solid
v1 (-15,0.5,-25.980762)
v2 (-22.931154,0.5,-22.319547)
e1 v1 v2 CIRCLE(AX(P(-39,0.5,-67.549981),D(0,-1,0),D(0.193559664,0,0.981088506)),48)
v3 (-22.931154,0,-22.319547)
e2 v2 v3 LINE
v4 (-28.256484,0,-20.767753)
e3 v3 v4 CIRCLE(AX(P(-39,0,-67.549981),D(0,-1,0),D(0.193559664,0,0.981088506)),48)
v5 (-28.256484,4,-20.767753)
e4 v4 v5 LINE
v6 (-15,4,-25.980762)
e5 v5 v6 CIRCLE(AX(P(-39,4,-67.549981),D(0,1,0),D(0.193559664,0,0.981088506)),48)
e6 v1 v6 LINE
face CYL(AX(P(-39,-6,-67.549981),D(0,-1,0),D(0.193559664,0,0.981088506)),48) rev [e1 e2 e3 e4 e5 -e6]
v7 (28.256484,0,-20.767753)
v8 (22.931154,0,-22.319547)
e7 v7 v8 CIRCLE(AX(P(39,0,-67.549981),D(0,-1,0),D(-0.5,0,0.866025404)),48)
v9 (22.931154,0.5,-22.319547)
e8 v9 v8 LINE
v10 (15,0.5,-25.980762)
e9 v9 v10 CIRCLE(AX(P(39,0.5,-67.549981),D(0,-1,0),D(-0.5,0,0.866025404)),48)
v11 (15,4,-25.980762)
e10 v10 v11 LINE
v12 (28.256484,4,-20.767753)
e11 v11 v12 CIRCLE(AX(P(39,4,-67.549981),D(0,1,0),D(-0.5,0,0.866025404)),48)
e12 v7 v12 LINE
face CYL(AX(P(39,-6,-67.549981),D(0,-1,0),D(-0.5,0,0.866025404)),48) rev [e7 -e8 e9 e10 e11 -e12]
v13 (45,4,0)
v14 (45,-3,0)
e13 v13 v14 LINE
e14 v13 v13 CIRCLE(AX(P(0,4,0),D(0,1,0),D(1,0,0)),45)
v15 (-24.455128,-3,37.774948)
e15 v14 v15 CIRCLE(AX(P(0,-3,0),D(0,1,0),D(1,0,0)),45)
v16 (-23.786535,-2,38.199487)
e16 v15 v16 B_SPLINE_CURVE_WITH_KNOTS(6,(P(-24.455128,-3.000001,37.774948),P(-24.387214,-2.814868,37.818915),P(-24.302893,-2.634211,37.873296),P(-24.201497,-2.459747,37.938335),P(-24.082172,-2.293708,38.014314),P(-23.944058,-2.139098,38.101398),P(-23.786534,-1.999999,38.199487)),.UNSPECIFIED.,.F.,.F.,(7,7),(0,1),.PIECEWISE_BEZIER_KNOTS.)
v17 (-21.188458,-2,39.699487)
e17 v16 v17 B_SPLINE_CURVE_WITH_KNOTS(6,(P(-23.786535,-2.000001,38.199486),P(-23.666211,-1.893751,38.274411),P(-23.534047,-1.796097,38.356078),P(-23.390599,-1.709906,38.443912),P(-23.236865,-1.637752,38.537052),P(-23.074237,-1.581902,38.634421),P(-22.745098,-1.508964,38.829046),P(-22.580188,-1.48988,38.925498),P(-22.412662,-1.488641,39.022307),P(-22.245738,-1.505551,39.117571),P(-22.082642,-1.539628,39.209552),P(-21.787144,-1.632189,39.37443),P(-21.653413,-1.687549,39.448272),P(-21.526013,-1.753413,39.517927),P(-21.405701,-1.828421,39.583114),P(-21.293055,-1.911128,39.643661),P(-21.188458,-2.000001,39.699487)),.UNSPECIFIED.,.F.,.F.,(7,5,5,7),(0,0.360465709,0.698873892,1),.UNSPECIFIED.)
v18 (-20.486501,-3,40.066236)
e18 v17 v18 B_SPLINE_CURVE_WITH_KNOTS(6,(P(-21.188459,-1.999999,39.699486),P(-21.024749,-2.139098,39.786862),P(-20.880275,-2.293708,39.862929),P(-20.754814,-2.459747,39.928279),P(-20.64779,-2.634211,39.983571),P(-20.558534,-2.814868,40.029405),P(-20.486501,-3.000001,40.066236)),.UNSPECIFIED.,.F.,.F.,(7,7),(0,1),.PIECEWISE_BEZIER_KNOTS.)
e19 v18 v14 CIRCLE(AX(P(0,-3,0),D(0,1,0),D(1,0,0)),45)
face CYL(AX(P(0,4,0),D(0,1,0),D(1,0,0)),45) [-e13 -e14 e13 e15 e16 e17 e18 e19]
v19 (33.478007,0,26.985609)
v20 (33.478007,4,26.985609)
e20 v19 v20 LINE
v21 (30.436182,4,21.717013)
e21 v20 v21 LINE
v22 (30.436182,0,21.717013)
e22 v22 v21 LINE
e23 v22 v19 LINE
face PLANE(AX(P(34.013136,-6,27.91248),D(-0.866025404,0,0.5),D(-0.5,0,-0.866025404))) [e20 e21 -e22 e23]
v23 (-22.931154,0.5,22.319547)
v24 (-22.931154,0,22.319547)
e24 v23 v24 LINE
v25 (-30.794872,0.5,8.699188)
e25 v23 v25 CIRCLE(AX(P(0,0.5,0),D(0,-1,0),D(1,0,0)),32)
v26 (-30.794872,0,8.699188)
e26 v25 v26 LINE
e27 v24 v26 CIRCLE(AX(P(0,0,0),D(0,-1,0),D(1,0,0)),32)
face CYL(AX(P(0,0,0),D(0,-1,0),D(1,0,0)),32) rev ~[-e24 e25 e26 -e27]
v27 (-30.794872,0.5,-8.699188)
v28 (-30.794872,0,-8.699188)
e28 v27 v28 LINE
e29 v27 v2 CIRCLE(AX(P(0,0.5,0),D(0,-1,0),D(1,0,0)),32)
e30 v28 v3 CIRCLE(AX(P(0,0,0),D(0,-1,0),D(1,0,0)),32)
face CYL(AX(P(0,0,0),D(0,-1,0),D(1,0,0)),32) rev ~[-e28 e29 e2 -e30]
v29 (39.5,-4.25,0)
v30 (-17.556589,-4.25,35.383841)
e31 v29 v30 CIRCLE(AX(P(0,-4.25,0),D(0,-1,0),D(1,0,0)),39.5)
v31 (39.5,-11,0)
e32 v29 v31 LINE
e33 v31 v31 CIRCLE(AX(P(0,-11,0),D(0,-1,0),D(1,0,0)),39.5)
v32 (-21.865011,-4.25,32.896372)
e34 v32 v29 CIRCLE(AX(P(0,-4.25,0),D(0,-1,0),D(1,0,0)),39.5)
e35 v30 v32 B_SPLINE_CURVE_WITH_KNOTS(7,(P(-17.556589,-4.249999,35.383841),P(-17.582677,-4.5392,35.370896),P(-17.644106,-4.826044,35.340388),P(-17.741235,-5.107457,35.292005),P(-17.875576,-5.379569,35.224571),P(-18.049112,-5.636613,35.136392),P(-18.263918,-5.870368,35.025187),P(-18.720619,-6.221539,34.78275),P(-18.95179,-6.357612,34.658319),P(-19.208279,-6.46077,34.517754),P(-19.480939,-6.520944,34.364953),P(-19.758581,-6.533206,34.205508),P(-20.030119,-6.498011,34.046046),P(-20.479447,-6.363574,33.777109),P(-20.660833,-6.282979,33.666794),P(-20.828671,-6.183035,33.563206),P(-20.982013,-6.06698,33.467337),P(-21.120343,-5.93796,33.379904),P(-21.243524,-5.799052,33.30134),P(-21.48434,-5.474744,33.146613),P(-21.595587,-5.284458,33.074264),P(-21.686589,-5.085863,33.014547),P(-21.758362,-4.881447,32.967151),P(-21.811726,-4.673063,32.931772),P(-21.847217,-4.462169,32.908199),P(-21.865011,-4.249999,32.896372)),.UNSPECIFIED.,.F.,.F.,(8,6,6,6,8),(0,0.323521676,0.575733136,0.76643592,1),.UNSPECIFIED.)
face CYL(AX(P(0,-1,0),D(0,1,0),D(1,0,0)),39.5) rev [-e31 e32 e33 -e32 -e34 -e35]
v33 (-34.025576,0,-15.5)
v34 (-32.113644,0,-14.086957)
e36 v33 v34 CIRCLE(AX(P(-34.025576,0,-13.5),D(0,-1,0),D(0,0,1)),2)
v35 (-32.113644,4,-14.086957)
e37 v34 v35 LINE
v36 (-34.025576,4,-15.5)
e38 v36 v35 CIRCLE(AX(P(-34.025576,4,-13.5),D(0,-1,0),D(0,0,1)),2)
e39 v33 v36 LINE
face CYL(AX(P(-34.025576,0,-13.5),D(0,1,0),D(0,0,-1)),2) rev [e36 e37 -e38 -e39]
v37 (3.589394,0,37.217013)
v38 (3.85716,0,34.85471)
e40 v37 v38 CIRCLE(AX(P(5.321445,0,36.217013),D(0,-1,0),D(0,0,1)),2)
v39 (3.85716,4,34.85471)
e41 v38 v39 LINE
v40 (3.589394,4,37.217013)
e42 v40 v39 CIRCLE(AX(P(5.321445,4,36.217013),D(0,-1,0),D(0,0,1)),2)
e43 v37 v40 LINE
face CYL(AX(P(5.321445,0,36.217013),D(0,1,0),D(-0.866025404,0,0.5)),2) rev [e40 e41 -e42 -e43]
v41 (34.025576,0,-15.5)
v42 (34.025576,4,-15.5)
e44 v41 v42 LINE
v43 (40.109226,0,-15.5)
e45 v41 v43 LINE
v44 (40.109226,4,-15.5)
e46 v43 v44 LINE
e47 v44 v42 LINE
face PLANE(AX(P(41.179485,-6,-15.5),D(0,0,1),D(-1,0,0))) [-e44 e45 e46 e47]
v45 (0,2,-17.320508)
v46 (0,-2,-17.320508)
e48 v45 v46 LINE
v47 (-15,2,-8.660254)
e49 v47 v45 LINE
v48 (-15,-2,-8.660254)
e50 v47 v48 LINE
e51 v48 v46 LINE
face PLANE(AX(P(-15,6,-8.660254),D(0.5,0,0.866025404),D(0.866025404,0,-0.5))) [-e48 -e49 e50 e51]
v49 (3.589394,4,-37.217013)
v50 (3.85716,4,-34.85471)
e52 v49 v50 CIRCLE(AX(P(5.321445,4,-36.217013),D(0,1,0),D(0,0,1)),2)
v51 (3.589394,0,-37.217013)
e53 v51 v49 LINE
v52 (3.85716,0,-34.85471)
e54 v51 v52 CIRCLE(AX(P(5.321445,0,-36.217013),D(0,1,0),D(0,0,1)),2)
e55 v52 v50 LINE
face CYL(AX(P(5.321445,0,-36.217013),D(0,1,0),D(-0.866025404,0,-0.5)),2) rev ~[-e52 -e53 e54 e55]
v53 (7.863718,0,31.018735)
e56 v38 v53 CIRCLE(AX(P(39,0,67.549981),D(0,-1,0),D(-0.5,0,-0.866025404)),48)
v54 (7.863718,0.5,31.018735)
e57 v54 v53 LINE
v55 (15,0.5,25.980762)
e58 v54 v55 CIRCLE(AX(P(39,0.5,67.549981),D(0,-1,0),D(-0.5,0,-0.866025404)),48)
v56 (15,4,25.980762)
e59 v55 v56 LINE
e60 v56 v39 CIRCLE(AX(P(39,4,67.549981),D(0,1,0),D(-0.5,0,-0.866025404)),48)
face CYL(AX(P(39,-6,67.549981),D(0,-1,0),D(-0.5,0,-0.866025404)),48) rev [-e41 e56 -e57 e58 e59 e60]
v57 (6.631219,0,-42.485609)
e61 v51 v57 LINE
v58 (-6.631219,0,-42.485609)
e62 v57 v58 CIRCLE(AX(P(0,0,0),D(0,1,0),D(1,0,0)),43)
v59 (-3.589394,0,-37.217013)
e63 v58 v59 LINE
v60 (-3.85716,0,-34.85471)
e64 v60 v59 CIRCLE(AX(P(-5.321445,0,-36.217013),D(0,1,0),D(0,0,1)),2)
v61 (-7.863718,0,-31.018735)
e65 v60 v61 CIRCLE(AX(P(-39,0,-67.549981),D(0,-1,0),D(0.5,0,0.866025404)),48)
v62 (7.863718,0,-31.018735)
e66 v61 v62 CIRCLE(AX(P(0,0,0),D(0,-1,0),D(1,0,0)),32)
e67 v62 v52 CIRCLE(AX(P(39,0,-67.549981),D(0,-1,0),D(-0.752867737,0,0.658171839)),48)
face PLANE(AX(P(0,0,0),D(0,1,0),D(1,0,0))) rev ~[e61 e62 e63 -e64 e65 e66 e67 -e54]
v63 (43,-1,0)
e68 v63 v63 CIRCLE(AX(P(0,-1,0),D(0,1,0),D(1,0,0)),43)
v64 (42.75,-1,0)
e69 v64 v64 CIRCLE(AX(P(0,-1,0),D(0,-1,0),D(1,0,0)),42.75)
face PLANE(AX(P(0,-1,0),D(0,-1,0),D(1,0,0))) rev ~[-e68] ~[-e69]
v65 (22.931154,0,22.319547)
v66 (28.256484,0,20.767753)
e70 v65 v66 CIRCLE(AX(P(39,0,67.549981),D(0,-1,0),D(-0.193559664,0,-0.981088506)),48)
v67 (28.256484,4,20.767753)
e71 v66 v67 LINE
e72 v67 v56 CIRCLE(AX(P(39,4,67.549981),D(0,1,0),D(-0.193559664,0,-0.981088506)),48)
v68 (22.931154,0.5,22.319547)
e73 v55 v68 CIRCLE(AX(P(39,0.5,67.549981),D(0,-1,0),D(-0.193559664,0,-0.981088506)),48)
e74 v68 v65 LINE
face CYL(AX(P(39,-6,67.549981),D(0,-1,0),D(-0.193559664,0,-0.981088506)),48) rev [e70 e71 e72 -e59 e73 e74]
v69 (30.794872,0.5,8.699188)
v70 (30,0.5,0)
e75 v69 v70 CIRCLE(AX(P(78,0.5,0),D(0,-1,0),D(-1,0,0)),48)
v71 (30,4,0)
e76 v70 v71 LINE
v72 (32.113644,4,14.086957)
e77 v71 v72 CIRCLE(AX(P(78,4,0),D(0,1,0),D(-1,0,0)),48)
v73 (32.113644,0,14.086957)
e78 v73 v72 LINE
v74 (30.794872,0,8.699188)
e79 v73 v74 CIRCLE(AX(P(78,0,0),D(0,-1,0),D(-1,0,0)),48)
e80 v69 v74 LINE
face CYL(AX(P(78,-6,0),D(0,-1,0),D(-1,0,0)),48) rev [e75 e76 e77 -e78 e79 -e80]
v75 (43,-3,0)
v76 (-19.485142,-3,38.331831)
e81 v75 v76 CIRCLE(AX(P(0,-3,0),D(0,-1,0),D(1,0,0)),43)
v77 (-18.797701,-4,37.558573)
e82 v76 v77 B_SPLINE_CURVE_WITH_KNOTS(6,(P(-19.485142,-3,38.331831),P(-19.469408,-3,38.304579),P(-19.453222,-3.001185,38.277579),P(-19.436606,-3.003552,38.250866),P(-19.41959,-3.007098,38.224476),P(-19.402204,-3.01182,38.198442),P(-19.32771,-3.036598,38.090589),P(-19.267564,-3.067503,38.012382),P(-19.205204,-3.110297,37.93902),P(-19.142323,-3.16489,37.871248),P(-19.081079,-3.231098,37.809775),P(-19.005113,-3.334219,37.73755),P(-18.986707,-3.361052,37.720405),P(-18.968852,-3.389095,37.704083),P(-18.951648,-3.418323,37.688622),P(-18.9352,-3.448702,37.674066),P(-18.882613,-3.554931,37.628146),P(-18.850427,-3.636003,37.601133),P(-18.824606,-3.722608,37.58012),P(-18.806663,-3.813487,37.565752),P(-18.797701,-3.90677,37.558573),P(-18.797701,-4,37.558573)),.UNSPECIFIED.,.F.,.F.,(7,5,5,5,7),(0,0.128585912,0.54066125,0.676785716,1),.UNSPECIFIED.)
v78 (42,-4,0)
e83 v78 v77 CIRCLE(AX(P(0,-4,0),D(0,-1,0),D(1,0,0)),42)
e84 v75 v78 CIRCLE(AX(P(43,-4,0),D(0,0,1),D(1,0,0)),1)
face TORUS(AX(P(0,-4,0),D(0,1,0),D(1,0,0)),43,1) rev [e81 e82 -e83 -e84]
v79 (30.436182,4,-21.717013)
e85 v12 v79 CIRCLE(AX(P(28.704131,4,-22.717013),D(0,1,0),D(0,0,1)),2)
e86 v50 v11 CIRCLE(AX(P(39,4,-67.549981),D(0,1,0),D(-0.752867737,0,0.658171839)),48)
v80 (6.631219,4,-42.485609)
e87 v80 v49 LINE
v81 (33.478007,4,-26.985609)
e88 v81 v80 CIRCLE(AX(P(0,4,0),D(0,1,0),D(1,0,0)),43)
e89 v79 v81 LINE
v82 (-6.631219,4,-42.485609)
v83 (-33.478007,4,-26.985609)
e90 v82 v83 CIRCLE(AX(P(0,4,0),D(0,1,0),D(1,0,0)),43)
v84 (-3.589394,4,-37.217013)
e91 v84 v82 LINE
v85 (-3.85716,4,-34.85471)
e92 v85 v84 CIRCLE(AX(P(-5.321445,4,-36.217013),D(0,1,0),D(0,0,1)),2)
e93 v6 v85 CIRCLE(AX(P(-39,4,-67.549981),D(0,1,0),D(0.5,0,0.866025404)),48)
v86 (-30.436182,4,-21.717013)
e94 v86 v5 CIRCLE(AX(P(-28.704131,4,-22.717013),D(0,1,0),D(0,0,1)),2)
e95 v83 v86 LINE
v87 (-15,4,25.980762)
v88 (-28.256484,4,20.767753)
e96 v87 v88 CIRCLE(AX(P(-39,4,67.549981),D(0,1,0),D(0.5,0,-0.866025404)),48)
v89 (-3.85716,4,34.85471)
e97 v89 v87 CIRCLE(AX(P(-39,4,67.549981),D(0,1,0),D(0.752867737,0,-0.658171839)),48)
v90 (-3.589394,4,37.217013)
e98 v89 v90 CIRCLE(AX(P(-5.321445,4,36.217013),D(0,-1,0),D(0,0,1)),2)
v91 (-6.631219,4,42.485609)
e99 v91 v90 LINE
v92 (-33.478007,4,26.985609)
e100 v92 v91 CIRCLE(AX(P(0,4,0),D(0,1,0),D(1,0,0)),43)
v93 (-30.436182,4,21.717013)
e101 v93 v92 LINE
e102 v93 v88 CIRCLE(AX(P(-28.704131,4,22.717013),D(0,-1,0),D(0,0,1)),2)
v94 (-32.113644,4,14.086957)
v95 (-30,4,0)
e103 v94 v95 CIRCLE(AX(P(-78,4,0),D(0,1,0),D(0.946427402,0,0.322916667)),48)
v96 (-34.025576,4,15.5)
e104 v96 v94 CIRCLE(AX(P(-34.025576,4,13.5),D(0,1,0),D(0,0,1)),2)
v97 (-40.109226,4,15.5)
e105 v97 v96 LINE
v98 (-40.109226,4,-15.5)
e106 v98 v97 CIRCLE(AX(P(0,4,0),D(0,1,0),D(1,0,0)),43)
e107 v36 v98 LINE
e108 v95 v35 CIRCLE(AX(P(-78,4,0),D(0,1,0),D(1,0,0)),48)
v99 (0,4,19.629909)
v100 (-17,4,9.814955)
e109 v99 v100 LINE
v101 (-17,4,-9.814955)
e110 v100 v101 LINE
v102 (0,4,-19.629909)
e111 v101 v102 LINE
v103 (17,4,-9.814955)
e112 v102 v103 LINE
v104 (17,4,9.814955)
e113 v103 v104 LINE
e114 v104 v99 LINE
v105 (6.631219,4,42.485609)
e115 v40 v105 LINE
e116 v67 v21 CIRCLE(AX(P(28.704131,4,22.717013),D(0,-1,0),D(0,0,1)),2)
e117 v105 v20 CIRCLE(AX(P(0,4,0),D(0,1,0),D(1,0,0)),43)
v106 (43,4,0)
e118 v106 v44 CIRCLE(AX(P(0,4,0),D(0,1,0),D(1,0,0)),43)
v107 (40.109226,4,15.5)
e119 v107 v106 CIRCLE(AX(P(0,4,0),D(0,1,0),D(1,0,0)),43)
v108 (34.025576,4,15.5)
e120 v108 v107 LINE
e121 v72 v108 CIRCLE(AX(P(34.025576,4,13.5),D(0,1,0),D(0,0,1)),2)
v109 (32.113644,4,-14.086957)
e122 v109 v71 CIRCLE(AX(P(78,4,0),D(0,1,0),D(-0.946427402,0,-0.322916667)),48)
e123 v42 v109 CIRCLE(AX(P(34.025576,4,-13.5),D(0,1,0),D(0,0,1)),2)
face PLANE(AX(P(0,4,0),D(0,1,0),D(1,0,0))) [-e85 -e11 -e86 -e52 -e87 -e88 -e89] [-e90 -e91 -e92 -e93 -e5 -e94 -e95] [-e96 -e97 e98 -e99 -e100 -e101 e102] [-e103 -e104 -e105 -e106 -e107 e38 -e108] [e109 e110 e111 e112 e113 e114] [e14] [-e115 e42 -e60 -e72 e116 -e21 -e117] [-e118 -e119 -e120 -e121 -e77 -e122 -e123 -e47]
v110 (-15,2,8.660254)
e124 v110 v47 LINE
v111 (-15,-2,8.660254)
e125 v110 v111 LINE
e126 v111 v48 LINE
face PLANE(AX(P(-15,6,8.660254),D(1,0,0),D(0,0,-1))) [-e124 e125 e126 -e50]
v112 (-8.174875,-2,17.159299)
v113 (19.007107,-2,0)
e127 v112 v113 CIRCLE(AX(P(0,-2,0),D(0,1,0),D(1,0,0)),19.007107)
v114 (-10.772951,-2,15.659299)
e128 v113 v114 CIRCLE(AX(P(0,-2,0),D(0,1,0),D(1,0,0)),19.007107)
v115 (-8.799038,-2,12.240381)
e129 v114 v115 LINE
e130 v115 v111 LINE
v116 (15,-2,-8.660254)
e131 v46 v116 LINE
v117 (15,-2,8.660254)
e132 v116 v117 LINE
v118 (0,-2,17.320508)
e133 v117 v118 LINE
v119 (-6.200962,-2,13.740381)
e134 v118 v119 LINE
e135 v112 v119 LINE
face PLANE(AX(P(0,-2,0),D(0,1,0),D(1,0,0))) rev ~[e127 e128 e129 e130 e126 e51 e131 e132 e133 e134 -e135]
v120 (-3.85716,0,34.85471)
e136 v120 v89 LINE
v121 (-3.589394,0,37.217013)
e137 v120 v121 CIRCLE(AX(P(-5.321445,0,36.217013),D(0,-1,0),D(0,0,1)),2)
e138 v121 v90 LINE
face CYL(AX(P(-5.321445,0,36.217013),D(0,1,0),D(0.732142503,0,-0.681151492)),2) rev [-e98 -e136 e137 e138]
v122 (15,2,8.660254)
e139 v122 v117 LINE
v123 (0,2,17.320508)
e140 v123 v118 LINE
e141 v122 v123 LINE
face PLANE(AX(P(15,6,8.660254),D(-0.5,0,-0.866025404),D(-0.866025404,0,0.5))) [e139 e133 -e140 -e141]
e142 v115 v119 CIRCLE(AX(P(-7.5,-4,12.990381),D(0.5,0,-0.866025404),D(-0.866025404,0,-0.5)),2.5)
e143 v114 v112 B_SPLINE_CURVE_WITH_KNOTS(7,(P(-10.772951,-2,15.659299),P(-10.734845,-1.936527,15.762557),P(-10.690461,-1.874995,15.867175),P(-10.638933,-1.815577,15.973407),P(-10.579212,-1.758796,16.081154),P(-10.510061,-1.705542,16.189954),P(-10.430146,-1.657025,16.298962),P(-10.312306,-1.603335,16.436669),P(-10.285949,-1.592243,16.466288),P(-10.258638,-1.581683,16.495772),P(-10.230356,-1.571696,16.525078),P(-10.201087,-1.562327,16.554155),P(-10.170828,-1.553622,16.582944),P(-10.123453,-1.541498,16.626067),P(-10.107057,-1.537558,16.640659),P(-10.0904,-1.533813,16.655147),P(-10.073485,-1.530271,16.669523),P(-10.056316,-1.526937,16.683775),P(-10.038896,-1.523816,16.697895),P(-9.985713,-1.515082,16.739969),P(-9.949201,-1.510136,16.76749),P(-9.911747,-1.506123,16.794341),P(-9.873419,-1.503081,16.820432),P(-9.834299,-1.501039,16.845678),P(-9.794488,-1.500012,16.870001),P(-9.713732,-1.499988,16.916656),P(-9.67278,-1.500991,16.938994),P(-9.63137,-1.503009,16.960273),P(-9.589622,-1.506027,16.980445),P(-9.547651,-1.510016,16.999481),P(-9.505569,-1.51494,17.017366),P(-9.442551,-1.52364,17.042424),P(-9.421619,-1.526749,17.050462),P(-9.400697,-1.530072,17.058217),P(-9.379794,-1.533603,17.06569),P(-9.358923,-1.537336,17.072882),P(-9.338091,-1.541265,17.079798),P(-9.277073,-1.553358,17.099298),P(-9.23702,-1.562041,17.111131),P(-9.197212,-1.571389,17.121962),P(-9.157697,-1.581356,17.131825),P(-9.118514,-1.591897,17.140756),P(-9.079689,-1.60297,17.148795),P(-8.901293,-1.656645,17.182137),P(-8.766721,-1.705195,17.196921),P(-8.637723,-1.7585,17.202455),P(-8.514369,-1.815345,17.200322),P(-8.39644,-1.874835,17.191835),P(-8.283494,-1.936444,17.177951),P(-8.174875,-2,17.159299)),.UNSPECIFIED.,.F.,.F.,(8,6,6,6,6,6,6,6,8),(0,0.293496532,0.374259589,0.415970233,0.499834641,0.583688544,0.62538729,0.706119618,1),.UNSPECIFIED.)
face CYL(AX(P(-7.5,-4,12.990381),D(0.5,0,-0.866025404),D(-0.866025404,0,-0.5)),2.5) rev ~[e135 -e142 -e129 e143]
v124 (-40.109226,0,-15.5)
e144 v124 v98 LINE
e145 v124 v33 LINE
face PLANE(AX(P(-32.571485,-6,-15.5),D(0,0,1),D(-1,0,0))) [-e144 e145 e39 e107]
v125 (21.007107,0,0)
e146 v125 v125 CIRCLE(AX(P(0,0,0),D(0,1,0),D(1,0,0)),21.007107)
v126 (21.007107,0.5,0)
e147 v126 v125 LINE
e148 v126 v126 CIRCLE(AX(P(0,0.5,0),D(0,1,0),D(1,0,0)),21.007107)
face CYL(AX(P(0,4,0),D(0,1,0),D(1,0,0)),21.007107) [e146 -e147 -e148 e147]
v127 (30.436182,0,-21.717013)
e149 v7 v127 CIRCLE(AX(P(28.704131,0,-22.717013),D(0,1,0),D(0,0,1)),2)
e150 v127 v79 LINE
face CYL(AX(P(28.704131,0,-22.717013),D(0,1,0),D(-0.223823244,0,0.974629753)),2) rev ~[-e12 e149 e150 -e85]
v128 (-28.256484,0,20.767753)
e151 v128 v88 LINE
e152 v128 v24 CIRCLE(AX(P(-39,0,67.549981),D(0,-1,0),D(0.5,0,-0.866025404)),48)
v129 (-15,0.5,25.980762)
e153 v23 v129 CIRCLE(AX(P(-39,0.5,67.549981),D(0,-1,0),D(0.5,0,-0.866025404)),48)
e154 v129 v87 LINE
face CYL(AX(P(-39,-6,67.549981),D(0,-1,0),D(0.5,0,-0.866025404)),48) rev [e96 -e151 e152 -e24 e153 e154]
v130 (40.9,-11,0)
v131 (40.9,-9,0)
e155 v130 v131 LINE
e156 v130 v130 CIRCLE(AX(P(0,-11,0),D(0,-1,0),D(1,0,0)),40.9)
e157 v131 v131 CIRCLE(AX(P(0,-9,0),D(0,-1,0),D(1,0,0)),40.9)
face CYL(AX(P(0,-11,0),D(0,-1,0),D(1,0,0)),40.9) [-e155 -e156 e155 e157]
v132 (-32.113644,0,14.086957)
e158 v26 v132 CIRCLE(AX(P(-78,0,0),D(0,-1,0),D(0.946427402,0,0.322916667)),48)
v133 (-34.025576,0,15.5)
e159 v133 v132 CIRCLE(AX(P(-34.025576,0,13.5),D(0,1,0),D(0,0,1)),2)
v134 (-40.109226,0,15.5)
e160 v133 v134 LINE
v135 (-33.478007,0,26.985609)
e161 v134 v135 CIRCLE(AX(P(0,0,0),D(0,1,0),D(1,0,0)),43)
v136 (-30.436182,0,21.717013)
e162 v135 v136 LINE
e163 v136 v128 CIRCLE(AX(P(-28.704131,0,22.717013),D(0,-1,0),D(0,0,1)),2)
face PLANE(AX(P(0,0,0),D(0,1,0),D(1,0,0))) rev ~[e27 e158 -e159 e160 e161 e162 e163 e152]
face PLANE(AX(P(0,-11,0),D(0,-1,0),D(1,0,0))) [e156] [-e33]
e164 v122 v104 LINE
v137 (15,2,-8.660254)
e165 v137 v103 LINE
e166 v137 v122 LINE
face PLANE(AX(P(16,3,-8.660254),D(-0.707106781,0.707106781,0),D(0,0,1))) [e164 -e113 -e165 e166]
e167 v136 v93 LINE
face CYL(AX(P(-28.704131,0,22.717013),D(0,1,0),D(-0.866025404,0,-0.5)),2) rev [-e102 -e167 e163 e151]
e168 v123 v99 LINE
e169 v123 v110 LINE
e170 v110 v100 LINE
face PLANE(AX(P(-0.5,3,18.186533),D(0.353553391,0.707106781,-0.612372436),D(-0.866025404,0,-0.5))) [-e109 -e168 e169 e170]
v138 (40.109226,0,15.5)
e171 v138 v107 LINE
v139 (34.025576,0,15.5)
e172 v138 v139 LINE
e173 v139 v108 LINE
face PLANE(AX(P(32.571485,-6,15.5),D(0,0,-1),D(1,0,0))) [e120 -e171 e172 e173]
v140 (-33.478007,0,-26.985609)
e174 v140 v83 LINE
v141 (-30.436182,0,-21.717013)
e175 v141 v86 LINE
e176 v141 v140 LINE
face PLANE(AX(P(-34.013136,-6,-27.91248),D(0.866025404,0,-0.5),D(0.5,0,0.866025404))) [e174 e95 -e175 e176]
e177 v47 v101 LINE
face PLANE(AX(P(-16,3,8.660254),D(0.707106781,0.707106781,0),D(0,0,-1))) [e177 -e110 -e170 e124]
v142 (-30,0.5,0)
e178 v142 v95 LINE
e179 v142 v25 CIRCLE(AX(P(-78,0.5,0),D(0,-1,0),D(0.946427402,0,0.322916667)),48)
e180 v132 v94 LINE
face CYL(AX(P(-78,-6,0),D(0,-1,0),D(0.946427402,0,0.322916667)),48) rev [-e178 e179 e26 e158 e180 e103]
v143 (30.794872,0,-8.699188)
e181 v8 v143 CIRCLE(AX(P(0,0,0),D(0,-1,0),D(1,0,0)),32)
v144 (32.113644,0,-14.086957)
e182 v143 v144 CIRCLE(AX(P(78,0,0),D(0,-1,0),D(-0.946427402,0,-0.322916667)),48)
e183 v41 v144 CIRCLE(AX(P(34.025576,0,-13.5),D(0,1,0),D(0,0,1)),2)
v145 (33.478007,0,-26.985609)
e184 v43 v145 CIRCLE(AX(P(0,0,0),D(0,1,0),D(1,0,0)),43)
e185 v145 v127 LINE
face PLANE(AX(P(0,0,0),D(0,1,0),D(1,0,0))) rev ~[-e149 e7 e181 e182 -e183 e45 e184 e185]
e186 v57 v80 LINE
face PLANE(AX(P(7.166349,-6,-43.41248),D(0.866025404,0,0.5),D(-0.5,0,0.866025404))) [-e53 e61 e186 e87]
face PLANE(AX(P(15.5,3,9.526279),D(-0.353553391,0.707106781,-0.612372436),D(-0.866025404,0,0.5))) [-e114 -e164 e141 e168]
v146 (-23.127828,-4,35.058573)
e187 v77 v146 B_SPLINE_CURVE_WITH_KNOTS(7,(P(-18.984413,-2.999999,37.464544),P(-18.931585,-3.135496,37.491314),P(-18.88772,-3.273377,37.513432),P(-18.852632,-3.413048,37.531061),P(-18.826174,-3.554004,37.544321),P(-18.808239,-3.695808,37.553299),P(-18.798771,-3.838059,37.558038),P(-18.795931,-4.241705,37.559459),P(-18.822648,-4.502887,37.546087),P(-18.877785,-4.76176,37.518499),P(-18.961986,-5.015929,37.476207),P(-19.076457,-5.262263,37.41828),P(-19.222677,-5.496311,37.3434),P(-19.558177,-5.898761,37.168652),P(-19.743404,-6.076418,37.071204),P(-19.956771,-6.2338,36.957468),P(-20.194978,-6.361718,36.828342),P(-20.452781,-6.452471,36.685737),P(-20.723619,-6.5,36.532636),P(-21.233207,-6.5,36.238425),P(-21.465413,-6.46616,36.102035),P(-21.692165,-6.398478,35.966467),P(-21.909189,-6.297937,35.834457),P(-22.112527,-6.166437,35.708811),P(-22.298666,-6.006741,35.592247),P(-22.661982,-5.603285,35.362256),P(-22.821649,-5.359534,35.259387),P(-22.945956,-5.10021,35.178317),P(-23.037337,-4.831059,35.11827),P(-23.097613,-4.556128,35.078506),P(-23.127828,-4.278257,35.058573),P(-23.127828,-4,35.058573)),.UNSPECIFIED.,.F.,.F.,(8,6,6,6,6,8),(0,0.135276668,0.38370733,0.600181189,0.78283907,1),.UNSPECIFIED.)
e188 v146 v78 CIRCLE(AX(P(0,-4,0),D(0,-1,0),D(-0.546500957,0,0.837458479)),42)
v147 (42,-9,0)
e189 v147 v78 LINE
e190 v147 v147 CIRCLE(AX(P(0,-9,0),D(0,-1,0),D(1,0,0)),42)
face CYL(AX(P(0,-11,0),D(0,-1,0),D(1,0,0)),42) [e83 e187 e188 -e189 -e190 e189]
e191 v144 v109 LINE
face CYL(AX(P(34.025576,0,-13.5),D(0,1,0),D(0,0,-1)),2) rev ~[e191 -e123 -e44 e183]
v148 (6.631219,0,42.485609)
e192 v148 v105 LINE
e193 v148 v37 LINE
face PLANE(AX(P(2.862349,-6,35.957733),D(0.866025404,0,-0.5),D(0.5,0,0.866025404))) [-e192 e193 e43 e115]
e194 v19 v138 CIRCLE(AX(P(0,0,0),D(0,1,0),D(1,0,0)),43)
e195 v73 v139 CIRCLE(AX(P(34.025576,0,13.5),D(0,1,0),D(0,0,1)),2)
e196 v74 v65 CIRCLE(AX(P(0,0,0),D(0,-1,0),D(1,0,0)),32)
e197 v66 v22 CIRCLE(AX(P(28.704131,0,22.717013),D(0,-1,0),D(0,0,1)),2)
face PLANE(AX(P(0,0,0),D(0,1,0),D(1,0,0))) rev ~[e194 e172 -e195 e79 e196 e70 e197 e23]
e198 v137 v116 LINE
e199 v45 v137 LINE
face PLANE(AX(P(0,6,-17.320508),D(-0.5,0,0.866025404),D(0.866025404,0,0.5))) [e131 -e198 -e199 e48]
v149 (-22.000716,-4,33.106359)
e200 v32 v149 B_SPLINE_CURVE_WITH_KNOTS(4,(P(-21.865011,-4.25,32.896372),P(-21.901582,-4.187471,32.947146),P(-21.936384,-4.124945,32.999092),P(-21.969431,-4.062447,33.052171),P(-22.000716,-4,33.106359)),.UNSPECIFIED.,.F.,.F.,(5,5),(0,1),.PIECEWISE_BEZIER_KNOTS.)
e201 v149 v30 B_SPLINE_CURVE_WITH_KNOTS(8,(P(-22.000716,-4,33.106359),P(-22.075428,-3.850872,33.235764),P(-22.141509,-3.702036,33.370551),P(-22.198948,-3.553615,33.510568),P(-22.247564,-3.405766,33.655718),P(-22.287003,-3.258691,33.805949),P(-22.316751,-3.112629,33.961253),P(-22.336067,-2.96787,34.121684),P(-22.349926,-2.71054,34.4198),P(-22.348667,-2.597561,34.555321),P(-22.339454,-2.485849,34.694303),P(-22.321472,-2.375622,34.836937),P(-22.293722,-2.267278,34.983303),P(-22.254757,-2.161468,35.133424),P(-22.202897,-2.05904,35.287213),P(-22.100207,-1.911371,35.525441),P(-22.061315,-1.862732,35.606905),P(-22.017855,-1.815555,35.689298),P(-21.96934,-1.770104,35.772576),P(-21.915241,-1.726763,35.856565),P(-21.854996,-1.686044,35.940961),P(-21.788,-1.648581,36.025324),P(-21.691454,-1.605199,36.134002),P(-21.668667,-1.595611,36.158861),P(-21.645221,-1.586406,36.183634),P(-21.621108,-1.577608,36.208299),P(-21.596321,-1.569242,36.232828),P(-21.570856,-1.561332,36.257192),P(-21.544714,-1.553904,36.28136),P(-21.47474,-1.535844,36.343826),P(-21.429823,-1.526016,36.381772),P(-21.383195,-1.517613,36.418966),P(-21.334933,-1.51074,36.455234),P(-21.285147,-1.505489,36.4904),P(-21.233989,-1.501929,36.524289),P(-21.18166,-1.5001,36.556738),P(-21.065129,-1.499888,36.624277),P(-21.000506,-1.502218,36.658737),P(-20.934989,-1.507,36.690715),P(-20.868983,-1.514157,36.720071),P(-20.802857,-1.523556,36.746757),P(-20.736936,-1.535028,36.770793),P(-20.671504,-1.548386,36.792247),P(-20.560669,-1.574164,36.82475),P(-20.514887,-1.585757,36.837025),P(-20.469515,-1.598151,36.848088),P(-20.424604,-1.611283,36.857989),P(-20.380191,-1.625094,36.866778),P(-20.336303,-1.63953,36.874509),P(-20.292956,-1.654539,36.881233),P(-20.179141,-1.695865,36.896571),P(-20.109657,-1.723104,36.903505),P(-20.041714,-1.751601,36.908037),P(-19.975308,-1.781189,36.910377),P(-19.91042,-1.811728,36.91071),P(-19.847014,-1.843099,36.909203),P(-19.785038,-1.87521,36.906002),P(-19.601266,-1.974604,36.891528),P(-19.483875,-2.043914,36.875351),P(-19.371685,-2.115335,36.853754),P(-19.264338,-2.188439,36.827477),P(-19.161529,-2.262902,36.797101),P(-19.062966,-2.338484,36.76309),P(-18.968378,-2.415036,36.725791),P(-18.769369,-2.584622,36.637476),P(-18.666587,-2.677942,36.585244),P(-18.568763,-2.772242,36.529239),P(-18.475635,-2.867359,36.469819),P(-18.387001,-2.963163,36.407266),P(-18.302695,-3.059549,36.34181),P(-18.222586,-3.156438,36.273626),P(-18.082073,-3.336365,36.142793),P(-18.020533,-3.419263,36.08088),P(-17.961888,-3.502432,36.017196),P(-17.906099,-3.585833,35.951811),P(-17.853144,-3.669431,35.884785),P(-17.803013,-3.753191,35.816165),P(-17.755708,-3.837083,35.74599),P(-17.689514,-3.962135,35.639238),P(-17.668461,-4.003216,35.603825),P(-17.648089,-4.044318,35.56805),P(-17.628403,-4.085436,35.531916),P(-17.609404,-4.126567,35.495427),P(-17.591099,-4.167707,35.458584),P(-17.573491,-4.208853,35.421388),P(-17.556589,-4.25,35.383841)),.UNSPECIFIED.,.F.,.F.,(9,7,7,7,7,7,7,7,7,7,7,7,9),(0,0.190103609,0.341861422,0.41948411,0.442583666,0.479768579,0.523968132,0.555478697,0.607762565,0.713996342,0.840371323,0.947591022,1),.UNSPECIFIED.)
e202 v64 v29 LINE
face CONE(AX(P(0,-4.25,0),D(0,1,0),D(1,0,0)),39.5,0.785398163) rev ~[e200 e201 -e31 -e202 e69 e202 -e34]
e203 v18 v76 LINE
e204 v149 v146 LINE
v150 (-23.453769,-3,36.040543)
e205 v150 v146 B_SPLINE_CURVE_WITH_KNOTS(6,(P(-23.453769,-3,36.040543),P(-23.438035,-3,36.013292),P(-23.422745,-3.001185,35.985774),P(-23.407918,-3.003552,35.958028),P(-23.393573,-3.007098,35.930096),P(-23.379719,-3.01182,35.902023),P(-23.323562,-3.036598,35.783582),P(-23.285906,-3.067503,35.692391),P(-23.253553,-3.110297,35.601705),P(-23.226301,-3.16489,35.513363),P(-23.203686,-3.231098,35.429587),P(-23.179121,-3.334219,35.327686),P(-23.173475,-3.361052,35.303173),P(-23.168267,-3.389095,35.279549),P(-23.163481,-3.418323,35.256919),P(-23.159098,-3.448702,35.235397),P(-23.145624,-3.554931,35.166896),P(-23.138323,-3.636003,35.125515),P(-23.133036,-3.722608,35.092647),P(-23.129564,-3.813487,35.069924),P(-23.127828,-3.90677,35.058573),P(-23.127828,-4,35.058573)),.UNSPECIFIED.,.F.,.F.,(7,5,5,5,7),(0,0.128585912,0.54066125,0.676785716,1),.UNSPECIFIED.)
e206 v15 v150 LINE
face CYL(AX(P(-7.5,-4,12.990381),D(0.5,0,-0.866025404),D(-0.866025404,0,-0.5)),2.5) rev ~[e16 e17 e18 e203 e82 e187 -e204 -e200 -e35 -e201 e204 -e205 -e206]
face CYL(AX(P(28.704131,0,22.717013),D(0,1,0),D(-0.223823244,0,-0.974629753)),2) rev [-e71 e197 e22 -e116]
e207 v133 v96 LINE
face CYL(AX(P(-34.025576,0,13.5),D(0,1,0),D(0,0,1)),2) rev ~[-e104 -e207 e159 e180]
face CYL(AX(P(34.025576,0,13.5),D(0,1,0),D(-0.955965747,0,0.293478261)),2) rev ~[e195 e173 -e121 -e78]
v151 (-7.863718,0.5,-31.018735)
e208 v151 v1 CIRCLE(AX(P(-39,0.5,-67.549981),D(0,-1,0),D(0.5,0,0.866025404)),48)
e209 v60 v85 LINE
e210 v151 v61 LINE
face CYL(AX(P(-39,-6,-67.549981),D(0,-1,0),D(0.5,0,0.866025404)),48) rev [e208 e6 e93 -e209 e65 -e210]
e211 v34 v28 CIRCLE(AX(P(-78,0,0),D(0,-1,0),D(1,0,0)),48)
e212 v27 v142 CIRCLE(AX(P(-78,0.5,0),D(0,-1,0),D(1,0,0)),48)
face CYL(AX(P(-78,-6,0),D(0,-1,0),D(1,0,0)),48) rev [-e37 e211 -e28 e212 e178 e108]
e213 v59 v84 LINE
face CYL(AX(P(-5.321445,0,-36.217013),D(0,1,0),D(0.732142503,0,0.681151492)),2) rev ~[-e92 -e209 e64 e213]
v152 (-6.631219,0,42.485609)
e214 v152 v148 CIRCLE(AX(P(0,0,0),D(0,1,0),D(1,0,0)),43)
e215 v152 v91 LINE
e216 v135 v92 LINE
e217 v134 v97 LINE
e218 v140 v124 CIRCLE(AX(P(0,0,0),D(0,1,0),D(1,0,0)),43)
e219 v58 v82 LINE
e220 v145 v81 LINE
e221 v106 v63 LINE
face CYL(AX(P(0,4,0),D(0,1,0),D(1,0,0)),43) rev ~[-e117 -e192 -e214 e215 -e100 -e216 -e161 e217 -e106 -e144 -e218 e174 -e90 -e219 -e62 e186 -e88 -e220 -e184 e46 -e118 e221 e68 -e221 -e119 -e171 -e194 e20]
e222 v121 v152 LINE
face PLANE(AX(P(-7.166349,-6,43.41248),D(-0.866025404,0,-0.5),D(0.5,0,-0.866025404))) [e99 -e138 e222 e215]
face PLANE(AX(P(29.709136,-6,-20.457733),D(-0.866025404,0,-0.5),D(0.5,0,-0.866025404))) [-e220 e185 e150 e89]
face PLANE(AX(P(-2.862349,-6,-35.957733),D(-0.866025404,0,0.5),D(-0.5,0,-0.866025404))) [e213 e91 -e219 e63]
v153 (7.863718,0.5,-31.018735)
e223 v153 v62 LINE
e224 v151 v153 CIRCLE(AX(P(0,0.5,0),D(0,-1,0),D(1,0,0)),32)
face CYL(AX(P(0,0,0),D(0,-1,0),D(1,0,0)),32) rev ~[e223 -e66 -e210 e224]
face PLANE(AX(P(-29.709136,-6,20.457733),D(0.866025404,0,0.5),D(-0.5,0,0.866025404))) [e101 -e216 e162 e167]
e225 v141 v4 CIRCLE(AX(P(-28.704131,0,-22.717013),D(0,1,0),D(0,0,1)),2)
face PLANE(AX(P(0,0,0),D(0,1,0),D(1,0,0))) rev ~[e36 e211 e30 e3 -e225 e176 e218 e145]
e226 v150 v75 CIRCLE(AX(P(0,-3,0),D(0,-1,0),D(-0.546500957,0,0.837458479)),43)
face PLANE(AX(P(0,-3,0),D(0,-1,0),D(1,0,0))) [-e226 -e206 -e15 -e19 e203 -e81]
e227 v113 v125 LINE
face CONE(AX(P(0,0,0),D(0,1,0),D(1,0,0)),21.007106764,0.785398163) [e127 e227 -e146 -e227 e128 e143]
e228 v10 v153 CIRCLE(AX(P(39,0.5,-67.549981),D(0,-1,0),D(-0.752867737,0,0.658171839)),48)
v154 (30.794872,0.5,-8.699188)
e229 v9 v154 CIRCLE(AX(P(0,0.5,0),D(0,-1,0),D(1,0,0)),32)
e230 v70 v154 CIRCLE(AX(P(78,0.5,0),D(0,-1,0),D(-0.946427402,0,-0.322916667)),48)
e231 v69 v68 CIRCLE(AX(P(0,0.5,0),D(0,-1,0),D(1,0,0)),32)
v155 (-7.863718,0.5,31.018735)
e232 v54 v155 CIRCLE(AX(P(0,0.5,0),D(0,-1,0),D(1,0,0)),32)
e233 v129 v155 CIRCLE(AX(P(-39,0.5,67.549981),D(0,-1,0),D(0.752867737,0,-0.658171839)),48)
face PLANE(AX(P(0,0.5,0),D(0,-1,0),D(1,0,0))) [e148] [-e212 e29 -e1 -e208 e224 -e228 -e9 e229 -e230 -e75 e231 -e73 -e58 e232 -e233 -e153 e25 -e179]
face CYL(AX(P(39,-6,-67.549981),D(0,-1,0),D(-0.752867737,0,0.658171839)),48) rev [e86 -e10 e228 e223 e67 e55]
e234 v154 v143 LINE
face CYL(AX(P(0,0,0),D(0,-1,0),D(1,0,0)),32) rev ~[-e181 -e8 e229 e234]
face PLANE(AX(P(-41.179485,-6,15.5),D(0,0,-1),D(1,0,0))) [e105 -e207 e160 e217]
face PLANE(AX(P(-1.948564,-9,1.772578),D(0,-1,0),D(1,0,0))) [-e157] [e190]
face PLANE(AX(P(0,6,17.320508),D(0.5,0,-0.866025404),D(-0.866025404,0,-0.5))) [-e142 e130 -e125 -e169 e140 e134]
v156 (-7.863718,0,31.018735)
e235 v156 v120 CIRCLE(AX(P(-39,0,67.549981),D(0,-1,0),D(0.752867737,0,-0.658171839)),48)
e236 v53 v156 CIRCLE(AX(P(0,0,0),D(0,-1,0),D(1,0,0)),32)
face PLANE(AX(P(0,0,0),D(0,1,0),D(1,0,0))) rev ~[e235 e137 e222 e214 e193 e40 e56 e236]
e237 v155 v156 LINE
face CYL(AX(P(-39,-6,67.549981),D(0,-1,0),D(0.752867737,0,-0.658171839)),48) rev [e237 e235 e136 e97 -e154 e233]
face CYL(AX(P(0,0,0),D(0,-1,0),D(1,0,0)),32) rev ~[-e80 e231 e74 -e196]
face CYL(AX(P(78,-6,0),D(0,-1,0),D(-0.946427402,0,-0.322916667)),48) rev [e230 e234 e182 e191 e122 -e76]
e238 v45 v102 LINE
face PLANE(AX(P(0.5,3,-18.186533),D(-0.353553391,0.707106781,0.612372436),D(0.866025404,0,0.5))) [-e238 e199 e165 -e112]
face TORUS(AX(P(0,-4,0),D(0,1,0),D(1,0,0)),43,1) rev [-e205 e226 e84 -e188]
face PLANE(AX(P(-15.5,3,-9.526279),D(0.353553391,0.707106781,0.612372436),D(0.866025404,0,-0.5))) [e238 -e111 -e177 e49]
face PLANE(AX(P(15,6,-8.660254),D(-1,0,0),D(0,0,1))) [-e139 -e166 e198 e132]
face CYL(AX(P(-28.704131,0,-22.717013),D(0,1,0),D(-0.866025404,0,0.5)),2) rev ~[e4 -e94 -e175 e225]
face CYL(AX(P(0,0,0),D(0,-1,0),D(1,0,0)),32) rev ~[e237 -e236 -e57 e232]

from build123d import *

# Parameters (mm, degrees)
SKIZZE1_R                             = 44
AUFSATZ_LINEAR_AUSTRAGEN1_DEPTH       = 4
SCHNITT_LINEAR_START                  = -10
SCHNITT_LINEAR_AUSTRAGEN2_DEPTH       = 10
KREISMUSTER1_COUNT                    = 6
SCHNITT_LINEAR_AUSTRAGEN3_DEPTH       = 4
SCHNITT_LINEAR_AUSTRAGEN3_DEPTH_BACK  = 10
VERRUNDUNG1_R                         = 2
SKIZZE7_R                             = 32
SCHNITT_LINEAR_AUSTRAGEN7_DEPTH       = 0.5
SKIZZE8_R                             = 45
SKIZZE8_R_2                           = 43
AUFSATZ_LINEAR_AUSTRAGEN2_DEPTH       = 6
AUFSATZ_LINEAR_AUSTRAGEN3_DEPTH       = 9
AUFSATZ_LINEAR_AUSTRAGEN3_DEPTH_BACK  = 1
SKIZZE9_R                             = 45
SKIZZE9_R_2                           = 39.5
SKIZZE4_R                             = 21.007106764
AUFSATZ_LINEAR_AUSTRAGEN8_DEPTH       = 6
FASE1_SIZE                            = 3.25
SKIZZE10_R                            = 50
SKIZZE10_R_2                          = 42
SCHNITT_LINEAR_AUSTRAGEN9_DEPTH       = 8
SKIZZE11_R                            = 50
SKIZZE11_R_2                          = 40.9
SCHNITT_LINEAR_AUSTRAGEN10_DEPTH      = 2
SCHNITT_LINEAR_AUSTRAGEN11_DEPTH      = 6
SCHNITT_LINEAR_AUSTRAGEN11_DEPTH_BACK = 6
FASE3_SIZE                            = 2
FASE5_SIZE                            = 2
SKIZZE12_R                            = 2.5
SCHNITT_LINEAR_AUSTRAGEN12_DEPTH      = 79.994520679
VERRUNDUNG2_R                         = 1


with BuildPart() as part:
    # Skizze1 → Aufsatz-Linear austragen1 (new body)
    with BuildSketch(Plane(origin=(0, 0, 0), x_dir=(1, 0, 0), z_dir=(0, 1, 0))):
        Circle(SKIZZE1_R)
    extrude(amount=AUFSATZ_LINEAR_AUSTRAGEN1_DEPTH)

    # Skizze2 → Schnitt-Linear austragen2 (cut)
    with BuildSketch(Plane(origin=(0, 4, 0), x_dir=(1, 0, 0), z_dir=(0, 1, 0)).offset(SCHNITT_LINEAR_START)):
        with BuildLine():
            ThreePointArc((-30, 0), (-30.647234858, 7.855929826), (-32.571484726, 15.5))
            Line((-32.571484726, 15.5), (-41.179485184, 15.5))
            ThreePointArc((-41.179485184, 15.5), (-44, 0), (-41.179485184, -15.5))
            Line((-41.179485184, -15.5), (-32.571484726, -15.5))
            ThreePointArc((-32.571484726, -15.5), (-30.647234858, -7.855929826), (-30, 0))
        make_face()
    schnitt_linear_austragen2 = extrude(amount=SCHNITT_LINEAR_AUSTRAGEN2_DEPTH, mode=Mode.SUBTRACT)

    # Kreismuster1: Schnitt-Linear austragen2 ×6 about axis
    kreismuster1_axis = Axis((0, 0, 0), (0, 1, 0))
    for i in range(1, KREISMUSTER1_COUNT):
        add(schnitt_linear_austragen2.rotate(kreismuster1_axis, i * 360 / KREISMUSTER1_COUNT), mode=Mode.SUBTRACT)

    # Skizze3 → Schnitt-Linear austragen3 (cut, two sides: drawn at the far end of the back side and taken through both)
    with BuildSketch(Plane.XZ.offset(-SCHNITT_LINEAR_AUSTRAGEN3_DEPTH_BACK)):
        Polygon((15, 8.660254038), (0, 17.320508076), (-15, 8.660254038), (-15, -8.660254038), (0, -17.320508076), (15, -8.660254038), align=None)
    extrude(amount=SCHNITT_LINEAR_AUSTRAGEN3_DEPTH + SCHNITT_LINEAR_AUSTRAGEN3_DEPTH_BACK, mode=Mode.SUBTRACT)

    # Verrundung1
    verrundung1_edges = [part.edges().sort_by_distance(p)[0] for p in [
        (-32.571484726, 2, 15.5),
        (-2.862348604, 2, 35.957733212),
        (2.862348604, 2, 35.957733212),
        (29.709136122, 2, 20.457733212),
        (32.571484726, 2, 15.5),
        (32.571484726, 2, -15.5),
        (29.709136122, 2, -20.457733212),
        (2.862348604, 2, -35.957733212),
        (-2.862348604, 2, -35.957733212),
        (-29.709136122, 2, -20.457733212),
        (-32.571484726, 2, -15.5),
        (-29.709136122, 2, 20.457733212),
    ]]
    fillet(verrundung1_edges, radius=VERRUNDUNG1_R)

    # Skizze7 → Schnitt-Linear austragen7 (cut)
    with BuildSketch(Plane.XZ):
        Circle(SKIZZE7_R)
    extrude(amount=-SCHNITT_LINEAR_AUSTRAGEN7_DEPTH, mode=Mode.SUBTRACT)

    # Skizze8 → Aufsatz-Linear austragen2 (add)
    with BuildSketch(Plane(origin=(0, 4, 0), x_dir=(1, 0, 0), z_dir=(0, 1, 0))):
        Circle(SKIZZE8_R)
        Circle(SKIZZE8_R_2, mode=Mode.SUBTRACT)
    extrude(amount=-AUFSATZ_LINEAR_AUSTRAGEN2_DEPTH)



with BuildPart() as body_2:
    # Skizze9 → Aufsatz-Linear austragen3 (new, two sides: drawn at the far end of the back side and taken through both)
    with BuildSketch(Plane.XZ.offset(2).offset(-AUFSATZ_LINEAR_AUSTRAGEN3_DEPTH_BACK)):
        Circle(SKIZZE9_R)
        Circle(SKIZZE9_R_2, mode=Mode.SUBTRACT)
    extrude(amount=AUFSATZ_LINEAR_AUSTRAGEN3_DEPTH + AUFSATZ_LINEAR_AUSTRAGEN3_DEPTH_BACK)


with BuildPart() as part_1:
    add(part.part)

    add(body_2.part)  # Aufsatz-Linear austragen8 merges body 2
    # Skizze4 → Aufsatz-Linear austragen8 (add)
    with BuildSketch(Plane(origin=(0, 4, 0), x_dir=(1, 0, 0), z_dir=(0, 1, 0))):
        Circle(SKIZZE4_R)
    extrude(amount=-AUFSATZ_LINEAR_AUSTRAGEN8_DEPTH)

    # Fase1
    fase1_edges = [part_1.edges().sort_by_distance(p)[0] for p in [
        (-39.5, -1, 0),
    ]]
    chamfer(fase1_edges, length=FASE1_SIZE)

    # Skizze10 → Schnitt-Linear austragen9 (cut)
    with BuildSketch(Plane.XZ.offset(11)):
        Circle(SKIZZE10_R)
        Circle(SKIZZE10_R_2, mode=Mode.SUBTRACT)
    extrude(amount=-SCHNITT_LINEAR_AUSTRAGEN9_DEPTH, mode=Mode.SUBTRACT)

    # Skizze11 → Schnitt-Linear austragen10 (cut)
    with BuildSketch(Plane.XZ.offset(11)):
        with Locations((-1.948563864, 1.772578218)):
            Circle(SKIZZE11_R)
        Circle(SKIZZE11_R_2, mode=Mode.SUBTRACT)
    extrude(amount=-SCHNITT_LINEAR_AUSTRAGEN10_DEPTH, mode=Mode.SUBTRACT)

    # Skizze3<3> → Schnitt-Linear austragen11 (cut, two sides: drawn at the far end of the back side and taken through both)
    with BuildSketch(Plane.XZ.offset(-SCHNITT_LINEAR_AUSTRAGEN11_DEPTH_BACK)):
        Polygon((15, 8.660254038), (0, 17.320508076), (-15, 8.660254038), (-15, -8.660254038), (0, -17.320508076), (15, -8.660254038), align=None)
    extrude(amount=SCHNITT_LINEAR_AUSTRAGEN11_DEPTH + SCHNITT_LINEAR_AUSTRAGEN11_DEPTH_BACK, mode=Mode.SUBTRACT)

    # Fase3
    fase3_edges = [part_1.edges().sort_by_distance(p)[0] for p in [
        (-21.007106764, -2, 0),
    ]]
    chamfer(fase3_edges, length=FASE3_SIZE)

    # Fase5
    fase5_edges = [part_1.edges().sort_by_distance(p)[0] for p in [
        (-7.5, 4, 12.990381057),
        (7.5, 4, 12.990381057),
        (15, 4, 0),
        (7.5, 4, -12.990381057),
        (-7.5, 4, -12.990381057),
        (-15, 4, 0),
    ]]
    chamfer(fase5_edges, length=FASE5_SIZE)

    # Skizze12 → Schnitt-Linear austragen12 (cut, through all)
    with BuildSketch(Plane(origin=(-7.5, 0, 12.990381057), x_dir=(-0.8660254037844387, 0, -0.49999999999999994), z_dir=(0.4999999999999999, 0, -0.8660254037844386))):
        with Locations((0, -4)):
            Circle(SKIZZE12_R)
    extrude(amount=-SCHNITT_LINEAR_AUSTRAGEN12_DEPTH, mode=Mode.SUBTRACT)

    # Verrundung2
    verrundung2_edges = [part_1.edges().sort_by_distance(p)[0] for p in [
        (-19.999653894, -3, -36.93255805),
    ]]
    fillet(verrundung2_edges, radius=VERRUNDUNG2_R)


solid = part_1.part
